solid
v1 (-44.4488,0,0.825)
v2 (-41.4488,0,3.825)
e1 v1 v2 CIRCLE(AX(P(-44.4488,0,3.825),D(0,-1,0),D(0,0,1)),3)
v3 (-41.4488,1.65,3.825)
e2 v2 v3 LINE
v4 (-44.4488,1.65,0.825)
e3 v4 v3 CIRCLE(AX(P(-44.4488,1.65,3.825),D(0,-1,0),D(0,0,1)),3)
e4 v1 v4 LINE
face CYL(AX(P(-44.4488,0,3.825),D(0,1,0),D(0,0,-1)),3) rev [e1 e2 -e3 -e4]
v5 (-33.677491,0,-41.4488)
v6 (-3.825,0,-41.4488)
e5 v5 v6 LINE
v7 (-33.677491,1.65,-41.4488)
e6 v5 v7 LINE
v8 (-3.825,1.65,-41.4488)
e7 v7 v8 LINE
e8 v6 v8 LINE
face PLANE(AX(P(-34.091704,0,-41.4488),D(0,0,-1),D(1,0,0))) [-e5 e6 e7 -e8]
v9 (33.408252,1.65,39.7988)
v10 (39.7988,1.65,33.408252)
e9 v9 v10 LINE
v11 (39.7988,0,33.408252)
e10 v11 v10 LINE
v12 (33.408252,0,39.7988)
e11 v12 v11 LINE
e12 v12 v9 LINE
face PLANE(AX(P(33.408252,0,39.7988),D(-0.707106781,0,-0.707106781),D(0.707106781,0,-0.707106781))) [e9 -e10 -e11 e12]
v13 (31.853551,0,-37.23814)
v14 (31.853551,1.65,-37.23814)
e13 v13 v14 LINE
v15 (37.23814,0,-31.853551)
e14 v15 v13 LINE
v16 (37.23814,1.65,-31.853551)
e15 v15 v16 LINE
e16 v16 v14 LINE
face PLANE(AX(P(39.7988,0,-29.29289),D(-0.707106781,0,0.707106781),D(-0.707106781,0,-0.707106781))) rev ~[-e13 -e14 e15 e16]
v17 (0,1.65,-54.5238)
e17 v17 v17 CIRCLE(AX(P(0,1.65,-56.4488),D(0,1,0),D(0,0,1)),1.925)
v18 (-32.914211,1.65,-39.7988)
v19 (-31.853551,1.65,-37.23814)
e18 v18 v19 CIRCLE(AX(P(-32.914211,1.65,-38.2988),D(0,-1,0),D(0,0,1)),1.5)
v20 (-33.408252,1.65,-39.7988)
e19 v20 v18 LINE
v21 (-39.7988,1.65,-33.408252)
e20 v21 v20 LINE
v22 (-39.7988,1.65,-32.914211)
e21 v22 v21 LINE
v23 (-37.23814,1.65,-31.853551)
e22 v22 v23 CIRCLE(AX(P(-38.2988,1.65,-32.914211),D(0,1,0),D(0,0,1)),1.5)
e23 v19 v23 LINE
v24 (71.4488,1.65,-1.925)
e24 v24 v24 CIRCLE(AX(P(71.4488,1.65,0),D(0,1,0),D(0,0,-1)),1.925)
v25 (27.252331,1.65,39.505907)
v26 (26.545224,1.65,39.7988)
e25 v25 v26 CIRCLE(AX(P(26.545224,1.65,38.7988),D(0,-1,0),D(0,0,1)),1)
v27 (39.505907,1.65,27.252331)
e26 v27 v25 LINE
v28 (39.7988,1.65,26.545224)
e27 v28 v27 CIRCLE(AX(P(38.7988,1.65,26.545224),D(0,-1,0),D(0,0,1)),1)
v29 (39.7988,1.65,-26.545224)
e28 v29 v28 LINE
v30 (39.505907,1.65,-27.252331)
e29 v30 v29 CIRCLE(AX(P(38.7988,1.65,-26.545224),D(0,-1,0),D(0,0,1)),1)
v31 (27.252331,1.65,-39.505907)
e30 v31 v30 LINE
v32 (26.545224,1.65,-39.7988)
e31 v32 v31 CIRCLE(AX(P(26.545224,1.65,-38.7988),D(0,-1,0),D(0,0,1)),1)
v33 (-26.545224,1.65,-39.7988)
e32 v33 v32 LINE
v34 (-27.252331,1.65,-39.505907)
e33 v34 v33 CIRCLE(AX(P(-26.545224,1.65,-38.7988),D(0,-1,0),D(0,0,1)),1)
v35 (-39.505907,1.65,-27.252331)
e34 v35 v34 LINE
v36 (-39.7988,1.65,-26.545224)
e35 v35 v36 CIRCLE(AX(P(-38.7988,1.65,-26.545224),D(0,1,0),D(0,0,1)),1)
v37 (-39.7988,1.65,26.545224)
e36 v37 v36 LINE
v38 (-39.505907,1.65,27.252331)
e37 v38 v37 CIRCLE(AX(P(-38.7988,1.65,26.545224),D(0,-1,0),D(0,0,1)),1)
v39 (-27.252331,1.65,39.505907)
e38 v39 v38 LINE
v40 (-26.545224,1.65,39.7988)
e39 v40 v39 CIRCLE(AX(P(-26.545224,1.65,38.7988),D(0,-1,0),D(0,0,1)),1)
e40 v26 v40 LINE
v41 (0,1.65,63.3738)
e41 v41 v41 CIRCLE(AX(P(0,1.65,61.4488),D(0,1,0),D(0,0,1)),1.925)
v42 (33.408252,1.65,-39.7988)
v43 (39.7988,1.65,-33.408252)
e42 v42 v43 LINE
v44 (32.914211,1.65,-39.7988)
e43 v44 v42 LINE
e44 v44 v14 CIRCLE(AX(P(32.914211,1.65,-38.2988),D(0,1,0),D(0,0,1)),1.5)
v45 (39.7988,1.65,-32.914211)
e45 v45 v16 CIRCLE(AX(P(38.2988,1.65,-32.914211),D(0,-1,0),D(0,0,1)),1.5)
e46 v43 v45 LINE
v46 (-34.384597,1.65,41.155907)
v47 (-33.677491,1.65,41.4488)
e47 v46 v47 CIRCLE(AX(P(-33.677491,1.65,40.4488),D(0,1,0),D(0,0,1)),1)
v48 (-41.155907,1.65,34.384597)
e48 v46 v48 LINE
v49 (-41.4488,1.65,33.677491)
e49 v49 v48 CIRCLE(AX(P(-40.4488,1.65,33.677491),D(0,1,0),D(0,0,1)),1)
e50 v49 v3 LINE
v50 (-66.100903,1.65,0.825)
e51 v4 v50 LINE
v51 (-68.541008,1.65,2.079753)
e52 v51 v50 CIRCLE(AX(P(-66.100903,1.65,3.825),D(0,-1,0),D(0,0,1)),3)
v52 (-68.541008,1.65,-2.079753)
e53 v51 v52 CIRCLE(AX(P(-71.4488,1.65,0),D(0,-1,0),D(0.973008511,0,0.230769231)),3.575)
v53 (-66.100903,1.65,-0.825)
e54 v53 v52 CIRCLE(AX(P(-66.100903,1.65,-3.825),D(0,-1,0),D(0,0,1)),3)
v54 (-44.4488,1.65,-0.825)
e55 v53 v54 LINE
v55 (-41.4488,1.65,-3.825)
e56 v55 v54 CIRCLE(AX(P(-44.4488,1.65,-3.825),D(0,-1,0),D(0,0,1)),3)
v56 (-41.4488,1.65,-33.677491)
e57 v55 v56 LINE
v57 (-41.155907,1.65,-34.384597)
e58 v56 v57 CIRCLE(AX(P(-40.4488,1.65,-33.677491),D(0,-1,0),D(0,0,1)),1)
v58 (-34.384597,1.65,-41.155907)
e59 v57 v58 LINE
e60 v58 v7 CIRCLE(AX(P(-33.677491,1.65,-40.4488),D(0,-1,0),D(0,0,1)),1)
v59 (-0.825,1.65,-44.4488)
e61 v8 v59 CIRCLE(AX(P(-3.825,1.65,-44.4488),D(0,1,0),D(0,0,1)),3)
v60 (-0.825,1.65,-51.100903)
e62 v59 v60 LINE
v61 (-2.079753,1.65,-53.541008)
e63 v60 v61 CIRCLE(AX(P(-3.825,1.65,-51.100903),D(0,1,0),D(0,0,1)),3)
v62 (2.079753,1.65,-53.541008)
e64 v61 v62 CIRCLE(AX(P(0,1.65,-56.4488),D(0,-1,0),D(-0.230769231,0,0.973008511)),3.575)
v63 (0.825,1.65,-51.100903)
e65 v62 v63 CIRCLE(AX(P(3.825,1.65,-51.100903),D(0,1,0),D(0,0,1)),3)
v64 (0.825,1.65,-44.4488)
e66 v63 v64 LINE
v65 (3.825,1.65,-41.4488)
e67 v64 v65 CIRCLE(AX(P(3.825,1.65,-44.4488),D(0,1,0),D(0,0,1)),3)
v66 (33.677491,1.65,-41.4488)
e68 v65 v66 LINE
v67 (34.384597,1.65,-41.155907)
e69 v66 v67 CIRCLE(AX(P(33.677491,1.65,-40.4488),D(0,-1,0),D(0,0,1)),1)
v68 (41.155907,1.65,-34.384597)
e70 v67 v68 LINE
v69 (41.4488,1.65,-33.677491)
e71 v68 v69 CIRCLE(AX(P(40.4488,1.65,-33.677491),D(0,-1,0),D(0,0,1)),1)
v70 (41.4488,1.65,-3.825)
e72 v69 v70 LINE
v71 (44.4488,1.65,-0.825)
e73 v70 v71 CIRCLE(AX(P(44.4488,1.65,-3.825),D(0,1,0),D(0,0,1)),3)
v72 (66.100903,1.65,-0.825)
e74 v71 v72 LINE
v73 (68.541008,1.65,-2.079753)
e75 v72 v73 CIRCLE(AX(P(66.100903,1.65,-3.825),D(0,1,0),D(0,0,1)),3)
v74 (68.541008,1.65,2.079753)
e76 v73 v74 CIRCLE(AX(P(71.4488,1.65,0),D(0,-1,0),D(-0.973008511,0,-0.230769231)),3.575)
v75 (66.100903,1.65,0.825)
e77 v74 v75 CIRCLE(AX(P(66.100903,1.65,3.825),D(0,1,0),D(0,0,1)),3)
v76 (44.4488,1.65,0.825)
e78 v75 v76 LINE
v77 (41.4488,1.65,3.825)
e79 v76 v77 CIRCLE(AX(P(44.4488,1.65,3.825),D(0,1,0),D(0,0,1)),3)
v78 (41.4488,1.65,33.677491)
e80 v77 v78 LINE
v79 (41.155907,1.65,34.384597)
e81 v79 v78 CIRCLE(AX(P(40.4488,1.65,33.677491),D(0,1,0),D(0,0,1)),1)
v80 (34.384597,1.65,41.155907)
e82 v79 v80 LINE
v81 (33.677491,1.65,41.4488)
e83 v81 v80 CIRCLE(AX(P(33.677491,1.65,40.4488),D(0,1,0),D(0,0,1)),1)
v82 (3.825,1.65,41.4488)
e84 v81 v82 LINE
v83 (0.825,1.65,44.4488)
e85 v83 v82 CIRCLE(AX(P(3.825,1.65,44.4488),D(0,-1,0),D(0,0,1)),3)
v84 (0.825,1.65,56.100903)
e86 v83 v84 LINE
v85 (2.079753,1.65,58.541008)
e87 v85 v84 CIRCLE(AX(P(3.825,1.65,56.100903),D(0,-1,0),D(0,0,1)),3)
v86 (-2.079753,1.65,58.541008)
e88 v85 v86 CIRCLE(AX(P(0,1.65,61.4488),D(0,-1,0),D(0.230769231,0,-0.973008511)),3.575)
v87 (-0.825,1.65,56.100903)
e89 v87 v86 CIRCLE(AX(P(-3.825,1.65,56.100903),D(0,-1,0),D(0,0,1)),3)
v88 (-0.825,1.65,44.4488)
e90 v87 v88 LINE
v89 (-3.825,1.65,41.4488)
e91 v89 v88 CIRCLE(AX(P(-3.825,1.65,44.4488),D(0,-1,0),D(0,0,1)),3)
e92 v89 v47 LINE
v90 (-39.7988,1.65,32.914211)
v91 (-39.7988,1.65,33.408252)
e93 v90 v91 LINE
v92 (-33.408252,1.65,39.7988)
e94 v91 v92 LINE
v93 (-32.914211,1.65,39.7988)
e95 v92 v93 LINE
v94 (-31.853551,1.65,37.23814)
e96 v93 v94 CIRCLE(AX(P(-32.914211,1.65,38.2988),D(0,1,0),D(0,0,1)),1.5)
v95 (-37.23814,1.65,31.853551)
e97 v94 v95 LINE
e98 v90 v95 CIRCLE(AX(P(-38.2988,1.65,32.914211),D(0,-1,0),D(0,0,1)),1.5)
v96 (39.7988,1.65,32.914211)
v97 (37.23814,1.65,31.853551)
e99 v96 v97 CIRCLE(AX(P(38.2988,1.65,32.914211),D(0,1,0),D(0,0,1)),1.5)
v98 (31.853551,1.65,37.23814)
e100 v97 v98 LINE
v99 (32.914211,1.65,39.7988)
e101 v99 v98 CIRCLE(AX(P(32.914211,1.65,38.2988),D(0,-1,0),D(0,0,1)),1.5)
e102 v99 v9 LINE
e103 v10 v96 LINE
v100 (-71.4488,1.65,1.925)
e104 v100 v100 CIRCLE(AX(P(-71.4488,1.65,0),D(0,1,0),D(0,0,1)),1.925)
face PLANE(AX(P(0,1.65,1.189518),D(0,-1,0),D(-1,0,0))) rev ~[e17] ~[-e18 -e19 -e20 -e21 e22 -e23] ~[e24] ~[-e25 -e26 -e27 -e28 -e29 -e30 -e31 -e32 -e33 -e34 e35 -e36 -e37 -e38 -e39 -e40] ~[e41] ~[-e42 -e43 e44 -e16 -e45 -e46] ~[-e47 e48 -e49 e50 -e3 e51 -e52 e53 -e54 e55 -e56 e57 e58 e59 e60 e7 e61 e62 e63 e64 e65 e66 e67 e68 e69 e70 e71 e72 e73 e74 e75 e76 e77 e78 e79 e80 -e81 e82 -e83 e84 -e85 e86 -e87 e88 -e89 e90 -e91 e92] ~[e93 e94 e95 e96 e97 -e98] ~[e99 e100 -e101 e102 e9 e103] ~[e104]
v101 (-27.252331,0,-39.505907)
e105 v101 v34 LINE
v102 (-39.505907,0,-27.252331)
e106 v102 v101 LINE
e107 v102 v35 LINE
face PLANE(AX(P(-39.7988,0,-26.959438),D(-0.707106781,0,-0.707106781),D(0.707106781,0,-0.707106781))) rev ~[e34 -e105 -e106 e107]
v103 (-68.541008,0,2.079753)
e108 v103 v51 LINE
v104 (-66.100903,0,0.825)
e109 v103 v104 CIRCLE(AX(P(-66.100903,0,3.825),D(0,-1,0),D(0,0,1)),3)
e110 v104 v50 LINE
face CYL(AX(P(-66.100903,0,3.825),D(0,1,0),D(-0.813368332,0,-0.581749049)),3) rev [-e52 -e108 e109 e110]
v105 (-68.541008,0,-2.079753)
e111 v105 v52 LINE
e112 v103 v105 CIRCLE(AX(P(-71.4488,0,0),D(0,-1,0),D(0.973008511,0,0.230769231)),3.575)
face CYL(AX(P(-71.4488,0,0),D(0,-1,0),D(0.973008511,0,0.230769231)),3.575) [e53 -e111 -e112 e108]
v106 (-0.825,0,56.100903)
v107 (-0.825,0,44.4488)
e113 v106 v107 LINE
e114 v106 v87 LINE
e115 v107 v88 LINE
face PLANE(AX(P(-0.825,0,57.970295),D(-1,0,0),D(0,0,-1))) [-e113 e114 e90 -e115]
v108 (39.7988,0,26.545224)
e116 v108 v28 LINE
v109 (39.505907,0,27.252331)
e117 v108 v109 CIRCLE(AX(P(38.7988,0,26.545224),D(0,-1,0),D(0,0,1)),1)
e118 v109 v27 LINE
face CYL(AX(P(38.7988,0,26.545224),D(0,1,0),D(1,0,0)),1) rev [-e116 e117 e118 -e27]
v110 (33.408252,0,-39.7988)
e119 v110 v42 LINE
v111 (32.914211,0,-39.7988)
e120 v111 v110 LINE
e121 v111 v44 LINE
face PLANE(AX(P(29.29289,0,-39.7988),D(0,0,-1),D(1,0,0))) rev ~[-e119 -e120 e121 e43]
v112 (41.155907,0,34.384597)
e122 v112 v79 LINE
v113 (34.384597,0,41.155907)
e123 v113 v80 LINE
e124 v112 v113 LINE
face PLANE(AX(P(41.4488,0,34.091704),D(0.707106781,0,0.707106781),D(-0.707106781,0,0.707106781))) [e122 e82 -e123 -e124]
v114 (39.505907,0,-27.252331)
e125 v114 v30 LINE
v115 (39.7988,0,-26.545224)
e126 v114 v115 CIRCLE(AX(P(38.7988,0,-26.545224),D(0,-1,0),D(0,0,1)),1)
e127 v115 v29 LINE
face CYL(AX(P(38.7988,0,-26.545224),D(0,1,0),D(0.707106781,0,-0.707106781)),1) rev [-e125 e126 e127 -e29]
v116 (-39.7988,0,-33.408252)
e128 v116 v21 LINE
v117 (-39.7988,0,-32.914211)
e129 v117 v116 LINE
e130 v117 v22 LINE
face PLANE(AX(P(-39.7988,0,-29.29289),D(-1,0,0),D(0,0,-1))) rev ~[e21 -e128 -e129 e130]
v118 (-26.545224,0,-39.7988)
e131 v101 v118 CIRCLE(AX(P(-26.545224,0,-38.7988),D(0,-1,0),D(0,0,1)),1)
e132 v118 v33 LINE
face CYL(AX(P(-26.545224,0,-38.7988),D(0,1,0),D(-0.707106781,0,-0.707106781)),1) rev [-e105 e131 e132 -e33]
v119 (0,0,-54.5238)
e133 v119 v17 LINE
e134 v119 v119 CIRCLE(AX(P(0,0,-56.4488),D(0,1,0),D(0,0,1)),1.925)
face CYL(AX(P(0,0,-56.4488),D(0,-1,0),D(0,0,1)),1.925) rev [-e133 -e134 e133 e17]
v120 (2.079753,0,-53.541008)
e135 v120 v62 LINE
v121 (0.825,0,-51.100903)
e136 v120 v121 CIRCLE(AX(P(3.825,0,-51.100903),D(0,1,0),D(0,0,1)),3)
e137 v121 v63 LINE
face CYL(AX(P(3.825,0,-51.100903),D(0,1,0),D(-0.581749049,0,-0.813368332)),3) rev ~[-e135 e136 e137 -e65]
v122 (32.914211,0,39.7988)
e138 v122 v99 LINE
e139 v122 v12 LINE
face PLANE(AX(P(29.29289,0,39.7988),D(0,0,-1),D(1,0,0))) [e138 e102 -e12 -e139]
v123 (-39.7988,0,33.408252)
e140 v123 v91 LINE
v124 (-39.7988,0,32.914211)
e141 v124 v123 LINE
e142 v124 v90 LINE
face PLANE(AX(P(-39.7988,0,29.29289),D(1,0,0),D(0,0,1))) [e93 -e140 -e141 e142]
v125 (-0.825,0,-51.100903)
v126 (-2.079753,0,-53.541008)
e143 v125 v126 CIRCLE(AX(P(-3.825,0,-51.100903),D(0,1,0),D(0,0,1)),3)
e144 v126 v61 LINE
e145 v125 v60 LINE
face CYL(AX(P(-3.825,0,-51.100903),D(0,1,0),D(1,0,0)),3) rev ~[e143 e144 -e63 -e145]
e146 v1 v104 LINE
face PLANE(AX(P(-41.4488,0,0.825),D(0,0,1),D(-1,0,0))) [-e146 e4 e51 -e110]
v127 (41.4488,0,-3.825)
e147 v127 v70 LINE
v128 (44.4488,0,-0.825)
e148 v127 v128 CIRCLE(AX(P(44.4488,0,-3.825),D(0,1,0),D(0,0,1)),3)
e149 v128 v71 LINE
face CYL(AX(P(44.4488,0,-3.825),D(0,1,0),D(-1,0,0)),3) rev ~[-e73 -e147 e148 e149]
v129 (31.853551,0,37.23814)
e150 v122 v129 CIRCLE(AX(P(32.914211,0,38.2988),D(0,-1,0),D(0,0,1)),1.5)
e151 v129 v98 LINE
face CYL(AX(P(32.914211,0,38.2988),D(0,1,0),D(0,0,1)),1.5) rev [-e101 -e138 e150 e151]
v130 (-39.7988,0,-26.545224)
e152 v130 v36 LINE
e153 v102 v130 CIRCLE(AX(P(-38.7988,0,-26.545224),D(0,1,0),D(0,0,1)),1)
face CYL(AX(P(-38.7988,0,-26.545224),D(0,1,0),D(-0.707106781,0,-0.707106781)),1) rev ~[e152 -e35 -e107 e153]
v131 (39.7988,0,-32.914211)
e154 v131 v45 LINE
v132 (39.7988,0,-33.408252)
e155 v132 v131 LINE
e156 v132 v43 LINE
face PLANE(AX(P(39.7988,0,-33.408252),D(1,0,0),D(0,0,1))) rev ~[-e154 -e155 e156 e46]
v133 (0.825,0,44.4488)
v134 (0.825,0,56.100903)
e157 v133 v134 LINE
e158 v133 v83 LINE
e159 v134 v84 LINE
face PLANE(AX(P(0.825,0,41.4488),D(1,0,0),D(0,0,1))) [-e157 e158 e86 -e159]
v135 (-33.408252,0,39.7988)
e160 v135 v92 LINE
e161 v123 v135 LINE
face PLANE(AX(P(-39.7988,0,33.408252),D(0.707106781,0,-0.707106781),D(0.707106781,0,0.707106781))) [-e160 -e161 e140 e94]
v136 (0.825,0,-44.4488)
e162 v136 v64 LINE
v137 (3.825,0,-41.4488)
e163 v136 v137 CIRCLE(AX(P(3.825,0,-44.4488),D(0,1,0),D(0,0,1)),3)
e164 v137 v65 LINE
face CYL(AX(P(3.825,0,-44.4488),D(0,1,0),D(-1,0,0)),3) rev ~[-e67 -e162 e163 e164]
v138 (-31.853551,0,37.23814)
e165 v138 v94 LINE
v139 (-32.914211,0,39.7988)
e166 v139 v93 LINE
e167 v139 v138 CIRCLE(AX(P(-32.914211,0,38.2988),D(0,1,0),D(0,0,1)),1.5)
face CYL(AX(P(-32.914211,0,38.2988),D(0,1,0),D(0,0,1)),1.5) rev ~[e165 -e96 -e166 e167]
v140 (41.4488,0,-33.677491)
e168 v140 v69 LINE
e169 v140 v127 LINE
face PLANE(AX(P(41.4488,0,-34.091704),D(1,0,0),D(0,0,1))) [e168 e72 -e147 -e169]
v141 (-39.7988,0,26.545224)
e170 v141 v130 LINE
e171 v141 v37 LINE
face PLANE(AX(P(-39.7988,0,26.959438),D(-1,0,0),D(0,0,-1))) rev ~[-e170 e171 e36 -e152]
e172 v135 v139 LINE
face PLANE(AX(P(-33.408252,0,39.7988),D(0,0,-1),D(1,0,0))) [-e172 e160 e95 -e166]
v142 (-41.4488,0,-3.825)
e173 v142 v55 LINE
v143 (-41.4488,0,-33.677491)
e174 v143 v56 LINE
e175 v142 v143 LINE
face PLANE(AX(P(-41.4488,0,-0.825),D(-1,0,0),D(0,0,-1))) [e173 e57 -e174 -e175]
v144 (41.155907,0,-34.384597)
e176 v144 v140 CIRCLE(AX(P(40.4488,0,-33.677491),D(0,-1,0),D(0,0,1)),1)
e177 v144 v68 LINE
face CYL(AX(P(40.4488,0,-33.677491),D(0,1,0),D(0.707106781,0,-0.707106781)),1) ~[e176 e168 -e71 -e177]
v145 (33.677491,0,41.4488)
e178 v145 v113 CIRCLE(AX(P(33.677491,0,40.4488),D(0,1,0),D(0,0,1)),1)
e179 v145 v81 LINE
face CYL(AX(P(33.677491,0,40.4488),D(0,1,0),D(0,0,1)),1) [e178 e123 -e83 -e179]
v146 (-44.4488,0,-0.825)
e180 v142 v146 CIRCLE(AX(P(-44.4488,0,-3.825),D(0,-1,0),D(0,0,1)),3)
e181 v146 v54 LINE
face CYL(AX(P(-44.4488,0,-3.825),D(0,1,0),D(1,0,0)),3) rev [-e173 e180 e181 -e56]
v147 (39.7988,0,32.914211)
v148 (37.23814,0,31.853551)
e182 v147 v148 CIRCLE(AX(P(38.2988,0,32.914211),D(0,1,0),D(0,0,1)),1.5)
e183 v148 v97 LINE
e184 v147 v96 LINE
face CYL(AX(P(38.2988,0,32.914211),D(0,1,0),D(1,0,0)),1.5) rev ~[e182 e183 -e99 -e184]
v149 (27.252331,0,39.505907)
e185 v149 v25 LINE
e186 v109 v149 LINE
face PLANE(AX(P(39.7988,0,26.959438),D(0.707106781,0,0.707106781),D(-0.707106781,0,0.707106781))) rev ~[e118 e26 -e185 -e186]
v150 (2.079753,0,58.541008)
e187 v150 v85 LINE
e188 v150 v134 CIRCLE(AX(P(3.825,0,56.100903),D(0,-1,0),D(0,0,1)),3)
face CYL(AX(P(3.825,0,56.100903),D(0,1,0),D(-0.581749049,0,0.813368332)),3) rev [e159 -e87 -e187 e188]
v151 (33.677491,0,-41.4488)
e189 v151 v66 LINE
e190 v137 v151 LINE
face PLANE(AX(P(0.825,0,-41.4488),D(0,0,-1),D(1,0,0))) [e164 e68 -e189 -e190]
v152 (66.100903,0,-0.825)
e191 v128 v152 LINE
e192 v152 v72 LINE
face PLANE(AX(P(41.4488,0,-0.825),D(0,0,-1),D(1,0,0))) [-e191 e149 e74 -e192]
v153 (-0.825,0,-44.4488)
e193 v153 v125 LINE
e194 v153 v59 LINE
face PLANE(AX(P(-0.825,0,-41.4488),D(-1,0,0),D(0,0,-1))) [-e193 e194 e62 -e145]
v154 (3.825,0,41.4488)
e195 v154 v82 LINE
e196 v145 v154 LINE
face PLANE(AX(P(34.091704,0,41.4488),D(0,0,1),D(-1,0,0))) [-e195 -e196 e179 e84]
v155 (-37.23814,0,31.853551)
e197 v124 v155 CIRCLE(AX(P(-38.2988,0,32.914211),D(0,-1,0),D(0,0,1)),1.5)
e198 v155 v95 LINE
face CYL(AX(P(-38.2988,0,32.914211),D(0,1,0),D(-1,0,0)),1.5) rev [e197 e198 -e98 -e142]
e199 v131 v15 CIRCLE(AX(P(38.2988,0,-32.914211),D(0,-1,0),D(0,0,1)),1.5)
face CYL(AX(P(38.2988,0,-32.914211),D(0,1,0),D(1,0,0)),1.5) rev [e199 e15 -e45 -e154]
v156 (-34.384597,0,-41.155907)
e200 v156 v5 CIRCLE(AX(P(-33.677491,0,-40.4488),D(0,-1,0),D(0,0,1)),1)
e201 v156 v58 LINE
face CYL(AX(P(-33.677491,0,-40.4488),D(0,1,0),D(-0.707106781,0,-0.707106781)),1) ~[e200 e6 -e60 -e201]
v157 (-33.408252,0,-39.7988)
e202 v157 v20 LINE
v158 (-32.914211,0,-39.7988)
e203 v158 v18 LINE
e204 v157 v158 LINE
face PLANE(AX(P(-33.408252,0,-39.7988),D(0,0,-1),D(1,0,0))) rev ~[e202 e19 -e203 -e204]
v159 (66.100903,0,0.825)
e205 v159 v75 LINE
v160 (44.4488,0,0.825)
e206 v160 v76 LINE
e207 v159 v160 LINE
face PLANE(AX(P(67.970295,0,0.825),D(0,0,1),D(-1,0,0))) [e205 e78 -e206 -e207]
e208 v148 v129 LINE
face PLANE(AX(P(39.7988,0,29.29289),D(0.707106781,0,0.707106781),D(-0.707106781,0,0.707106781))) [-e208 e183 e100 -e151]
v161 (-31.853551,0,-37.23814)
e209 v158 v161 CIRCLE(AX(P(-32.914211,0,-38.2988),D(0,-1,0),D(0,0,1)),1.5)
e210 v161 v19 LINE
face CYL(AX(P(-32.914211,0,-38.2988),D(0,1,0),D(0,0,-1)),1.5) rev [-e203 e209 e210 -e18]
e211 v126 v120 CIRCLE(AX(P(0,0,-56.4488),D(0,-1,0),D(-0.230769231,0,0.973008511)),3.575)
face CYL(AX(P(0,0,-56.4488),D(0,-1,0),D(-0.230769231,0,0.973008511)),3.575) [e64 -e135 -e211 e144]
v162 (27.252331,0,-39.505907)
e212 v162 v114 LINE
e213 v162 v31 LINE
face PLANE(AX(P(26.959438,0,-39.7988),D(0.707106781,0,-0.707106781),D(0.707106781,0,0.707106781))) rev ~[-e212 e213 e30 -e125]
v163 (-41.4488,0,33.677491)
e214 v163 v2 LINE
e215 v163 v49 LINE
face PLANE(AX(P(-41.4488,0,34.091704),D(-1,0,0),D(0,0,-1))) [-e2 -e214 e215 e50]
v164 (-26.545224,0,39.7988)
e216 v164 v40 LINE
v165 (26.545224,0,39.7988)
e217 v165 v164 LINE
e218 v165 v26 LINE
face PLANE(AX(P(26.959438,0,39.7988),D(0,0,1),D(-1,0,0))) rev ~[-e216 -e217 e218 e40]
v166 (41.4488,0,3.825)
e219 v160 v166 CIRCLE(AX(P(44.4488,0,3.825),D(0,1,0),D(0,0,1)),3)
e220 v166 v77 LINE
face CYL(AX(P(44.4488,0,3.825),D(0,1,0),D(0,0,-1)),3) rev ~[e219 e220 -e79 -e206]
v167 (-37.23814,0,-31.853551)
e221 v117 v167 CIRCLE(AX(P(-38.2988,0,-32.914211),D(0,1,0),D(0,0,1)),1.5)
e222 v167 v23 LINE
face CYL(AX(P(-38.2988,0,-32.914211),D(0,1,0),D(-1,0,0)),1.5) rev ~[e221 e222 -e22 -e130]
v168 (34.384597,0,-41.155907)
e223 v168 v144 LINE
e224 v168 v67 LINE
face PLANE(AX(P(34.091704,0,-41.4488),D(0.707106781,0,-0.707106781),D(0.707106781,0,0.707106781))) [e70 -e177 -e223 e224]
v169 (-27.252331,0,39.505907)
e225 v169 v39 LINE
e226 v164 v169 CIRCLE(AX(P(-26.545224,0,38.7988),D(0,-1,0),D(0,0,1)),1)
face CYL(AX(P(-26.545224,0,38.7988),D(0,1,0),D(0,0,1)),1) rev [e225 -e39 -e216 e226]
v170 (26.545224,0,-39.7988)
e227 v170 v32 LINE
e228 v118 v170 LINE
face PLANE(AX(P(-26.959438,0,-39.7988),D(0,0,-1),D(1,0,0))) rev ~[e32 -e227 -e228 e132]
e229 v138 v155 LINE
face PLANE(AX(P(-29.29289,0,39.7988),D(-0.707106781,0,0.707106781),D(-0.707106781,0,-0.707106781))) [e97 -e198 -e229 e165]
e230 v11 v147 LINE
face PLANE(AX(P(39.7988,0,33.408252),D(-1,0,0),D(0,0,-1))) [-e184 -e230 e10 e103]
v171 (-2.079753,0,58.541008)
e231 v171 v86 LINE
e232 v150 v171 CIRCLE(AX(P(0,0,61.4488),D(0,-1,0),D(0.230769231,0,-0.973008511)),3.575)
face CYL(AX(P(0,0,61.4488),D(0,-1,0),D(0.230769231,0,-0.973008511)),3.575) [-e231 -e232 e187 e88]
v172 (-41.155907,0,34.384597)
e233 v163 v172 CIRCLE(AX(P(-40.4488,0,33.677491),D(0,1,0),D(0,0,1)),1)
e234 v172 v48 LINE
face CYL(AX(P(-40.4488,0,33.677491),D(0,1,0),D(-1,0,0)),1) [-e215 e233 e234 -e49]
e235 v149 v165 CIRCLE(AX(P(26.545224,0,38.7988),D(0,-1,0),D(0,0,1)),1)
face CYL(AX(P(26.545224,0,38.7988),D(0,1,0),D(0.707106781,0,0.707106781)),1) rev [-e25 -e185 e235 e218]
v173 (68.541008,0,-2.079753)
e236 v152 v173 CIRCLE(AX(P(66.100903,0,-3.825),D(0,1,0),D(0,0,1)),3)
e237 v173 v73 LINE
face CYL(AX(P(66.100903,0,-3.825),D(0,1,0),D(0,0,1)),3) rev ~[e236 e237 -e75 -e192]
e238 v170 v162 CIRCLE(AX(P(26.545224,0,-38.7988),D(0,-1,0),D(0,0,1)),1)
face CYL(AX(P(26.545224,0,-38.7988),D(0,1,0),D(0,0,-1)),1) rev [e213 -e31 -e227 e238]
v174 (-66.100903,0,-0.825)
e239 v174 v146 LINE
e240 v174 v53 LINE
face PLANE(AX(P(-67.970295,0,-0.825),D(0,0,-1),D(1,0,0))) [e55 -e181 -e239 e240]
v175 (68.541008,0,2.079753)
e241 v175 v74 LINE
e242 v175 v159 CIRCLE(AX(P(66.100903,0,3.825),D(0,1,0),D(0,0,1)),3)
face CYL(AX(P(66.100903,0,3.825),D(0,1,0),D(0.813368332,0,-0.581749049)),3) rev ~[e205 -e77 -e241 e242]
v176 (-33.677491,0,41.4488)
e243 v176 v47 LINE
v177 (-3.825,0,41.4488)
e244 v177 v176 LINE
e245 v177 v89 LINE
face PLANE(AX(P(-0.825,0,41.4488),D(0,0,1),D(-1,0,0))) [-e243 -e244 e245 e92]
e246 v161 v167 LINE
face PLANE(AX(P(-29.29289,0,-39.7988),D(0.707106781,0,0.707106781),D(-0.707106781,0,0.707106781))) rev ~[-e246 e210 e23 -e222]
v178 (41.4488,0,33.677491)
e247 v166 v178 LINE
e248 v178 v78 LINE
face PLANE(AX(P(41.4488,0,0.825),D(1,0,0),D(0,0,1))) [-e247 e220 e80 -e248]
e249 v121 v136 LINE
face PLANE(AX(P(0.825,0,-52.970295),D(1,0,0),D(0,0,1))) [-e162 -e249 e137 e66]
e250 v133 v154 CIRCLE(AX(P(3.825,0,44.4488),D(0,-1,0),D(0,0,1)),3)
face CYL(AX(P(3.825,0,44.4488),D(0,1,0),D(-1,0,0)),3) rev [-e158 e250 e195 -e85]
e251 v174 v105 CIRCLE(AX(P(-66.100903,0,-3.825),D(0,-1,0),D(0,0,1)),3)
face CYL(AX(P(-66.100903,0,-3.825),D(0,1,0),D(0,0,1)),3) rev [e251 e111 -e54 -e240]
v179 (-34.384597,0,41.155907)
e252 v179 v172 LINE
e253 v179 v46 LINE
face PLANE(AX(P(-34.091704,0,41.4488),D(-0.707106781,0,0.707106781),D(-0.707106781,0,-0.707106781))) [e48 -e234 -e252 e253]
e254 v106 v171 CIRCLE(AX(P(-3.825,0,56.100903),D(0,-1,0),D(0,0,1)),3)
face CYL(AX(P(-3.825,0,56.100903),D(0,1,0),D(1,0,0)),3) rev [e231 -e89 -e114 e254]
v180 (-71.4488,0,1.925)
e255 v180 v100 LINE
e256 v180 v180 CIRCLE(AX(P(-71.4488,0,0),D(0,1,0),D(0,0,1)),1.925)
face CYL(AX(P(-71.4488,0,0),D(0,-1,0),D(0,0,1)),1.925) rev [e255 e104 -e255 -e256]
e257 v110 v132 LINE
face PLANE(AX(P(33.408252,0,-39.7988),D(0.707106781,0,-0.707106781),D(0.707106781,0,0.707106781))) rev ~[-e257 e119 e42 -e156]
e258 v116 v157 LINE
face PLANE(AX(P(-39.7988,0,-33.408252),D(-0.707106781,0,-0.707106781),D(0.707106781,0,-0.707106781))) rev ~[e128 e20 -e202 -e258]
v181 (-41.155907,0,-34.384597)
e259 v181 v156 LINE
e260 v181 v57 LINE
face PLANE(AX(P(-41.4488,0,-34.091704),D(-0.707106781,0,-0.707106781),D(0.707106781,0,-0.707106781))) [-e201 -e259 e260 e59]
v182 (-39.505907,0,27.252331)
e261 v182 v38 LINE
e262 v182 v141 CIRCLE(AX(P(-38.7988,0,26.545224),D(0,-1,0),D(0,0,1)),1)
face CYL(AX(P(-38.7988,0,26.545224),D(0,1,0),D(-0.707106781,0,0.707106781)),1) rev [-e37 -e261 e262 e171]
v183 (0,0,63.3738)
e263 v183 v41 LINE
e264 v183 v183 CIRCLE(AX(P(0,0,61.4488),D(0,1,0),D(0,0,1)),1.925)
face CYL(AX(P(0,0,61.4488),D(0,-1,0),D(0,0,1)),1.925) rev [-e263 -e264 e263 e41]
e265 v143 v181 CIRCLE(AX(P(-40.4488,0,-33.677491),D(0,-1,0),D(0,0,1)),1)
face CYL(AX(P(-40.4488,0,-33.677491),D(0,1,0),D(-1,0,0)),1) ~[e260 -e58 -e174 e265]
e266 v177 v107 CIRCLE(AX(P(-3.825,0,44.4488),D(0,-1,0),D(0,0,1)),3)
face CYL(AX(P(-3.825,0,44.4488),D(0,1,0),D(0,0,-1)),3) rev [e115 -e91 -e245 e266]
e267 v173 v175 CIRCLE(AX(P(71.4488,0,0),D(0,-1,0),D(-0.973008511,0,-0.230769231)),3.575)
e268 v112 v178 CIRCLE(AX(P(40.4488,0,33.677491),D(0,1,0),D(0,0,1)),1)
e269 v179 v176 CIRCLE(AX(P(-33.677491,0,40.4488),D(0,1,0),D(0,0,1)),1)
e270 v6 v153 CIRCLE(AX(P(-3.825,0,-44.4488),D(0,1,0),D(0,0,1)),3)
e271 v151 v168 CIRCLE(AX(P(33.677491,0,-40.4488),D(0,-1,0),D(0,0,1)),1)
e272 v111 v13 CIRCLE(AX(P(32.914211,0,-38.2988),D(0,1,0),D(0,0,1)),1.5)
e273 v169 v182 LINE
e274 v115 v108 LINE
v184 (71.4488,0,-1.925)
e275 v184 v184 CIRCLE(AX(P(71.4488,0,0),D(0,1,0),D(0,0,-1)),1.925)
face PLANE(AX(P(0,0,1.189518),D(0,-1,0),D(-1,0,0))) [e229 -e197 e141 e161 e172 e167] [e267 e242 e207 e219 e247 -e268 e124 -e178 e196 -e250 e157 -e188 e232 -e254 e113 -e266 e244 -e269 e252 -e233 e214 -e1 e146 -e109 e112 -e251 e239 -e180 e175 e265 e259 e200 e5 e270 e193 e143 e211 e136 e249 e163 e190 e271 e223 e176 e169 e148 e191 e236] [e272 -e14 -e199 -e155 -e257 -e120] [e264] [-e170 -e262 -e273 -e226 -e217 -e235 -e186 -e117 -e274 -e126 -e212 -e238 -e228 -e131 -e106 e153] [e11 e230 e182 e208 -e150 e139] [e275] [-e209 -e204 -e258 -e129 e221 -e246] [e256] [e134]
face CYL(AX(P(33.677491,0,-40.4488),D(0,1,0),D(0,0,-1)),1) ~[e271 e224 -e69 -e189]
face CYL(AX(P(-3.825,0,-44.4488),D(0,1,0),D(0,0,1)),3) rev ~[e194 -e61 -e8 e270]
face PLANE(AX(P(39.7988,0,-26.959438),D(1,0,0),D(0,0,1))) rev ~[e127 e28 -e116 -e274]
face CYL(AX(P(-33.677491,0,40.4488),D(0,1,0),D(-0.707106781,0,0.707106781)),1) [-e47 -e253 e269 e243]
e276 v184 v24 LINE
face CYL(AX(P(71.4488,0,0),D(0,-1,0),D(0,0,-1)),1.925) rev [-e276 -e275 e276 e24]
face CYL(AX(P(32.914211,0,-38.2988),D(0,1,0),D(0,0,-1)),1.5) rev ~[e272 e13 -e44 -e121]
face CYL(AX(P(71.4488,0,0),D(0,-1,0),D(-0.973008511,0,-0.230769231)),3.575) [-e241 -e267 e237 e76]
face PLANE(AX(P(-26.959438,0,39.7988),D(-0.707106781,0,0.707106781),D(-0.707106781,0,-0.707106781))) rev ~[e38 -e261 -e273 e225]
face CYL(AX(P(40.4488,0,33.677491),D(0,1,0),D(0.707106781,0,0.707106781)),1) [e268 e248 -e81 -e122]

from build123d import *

# Parameters (mm, degrees)
SKETCH1_R           = 1.925
BOSS_EXTRUDE1_DEPTH = 1.65
FILLET4_R           = 3
FILLET3_R           = 1.5
FILLET5_R           = 1


with BuildPart() as part:
    # Sketch1 → Boss-Extrude1 (new body)
    with BuildSketch(Plane(origin=(0, 0, 0), x_dir=(1, 0, 0), z_dir=(0, 1, 0))):
        with BuildLine():
            Line((-41.448800006, 34.091704203), (-34.091704203, 41.448800006))
            Line((-34.091704203, 41.448800006), (-0.825, 41.448800006))
            Line((-0.825, 41.448800006), (-0.825, 52.97029458))
            ThreePointArc((-0.825, 52.97029458), (0, 60.023800006), (0.825, 52.97029458))
            Line((0.825, 52.97029458), (0.825, 41.448800006))
            Line((0.825, 41.448800006), (34.091704203, 41.448800006))
            Line((34.091704203, 41.448800006), (41.448800006, 34.091704203))
            Line((41.448800006, 34.091704203), (41.448800006, 0.825))
            Line((41.448800006, 0.825), (67.97029458, 0.825))
            ThreePointArc((67.97029458, 0.825), (75.023800006, 0), (67.97029458, -0.825))
            Line((67.97029458, -0.825), (41.448800006, -0.825))
            Line((41.448800006, -0.825), (41.448800006, -34.091704203))
            Line((41.448800006, -34.091704203), (34.091704203, -41.448800006))
            Line((34.091704203, -41.448800006), (0.825, -41.448800006))
            Line((0.825, -41.448800006), (0.825, -57.97029458))
            ThreePointArc((0.825, -57.97029458), (0, -65.023800006), (-0.825, -57.97029458))
            Line((-0.825, -57.97029458), (-0.825, -41.448800006))
            Line((-0.825, -41.448800006), (-34.091704203, -41.448800006))
            Line((-34.091704203, -41.448800006), (-41.448800006, -34.091704203))
            Line((-41.448800006, -34.091704203), (-41.448800006, -0.825))
            Line((-41.448800006, -0.825), (-67.97029458, -0.825))
            ThreePointArc((-67.97029458, -0.825), (-75.023800006, 0), (-67.97029458, 0.825))
            Line((-67.97029458, 0.825), (-41.448800006, 0.825))
            Line((-41.448800006, 0.825), (-41.448800006, 34.091704203))
        make_face()
        with Locations(Location((0, 56.448800006, 0), (0, 0, 270))):
            Circle(SKETCH1_R, mode=Mode.SUBTRACT)
        with Locations(Location((71.448800006, 0, 0), (0, 0, 90))):
            Circle(SKETCH1_R, mode=Mode.SUBTRACT)
        with Locations(Location((0, -61.448800006, 0), (0, 0, 270))):
            Circle(SKETCH1_R, mode=Mode.SUBTRACT)
        with Locations(Location((-71.448800006, 0, 0), (0, 0, 270))):
            Circle(SKETCH1_R, mode=Mode.SUBTRACT)
        Polygon((-39.798800006, 33.408251825), (-33.408251825, 39.798800006), (-29.292890359, 39.798800006), (-39.798800006, 29.292890359), align=None, mode=Mode.SUBTRACT)
        Polygon((-33.408251825, -39.798800006), (-29.292890359, -39.798800006), (-39.798800006, -29.292890359), (-39.798800006, -33.408251825), align=None, mode=Mode.SUBTRACT)
        Polygon((39.798800006, -33.408251825), (39.798800006, -29.292890359), (29.292890359, -39.798800006), (33.408251825, -39.798800006), align=None, mode=Mode.SUBTRACT)
        Polygon((33.408251825, 39.798800006), (39.798800006, 33.408251825), (39.798800006, 29.292890359), (29.292890359, 39.798800006), align=None, mode=Mode.SUBTRACT)
        Polygon((-39.798800006, 26.959437981), (-26.959437981, 39.798800006), (26.959437981, 39.798800006), (39.798800006, 26.959437981), (39.798800006, -26.959437981), (26.959437981, -39.798800006), (-26.959437981, -39.798800006), (-39.798800006, -26.959437981), align=None, mode=Mode.SUBTRACT)
    extrude(amount=BOSS_EXTRUDE1_DEPTH)

    # Fillet4
    fillet4_edges = [part.edges().sort_by_distance(p)[0] for p in [
        (-0.825, 0.825, -41.448800006),
        (-0.825, 0.825, -52.97029458),
        (0.825, 0.825, -52.97029458),
        (0.825, 0.825, -41.448800006),
        (41.448800006, 0.825, -0.825),
        (67.97029458, 0.825, -0.825),
        (67.97029458, 0.825, 0.825),
        (41.448800006, 0.825, 0.825),
        (0.825, 0.825, 41.448800006),
        (0.825, 0.825, 57.97029458),
        (-0.825, 0.825, 57.97029458),
        (-0.825, 0.825, 41.448800006),
        (-41.448800006, 0.825, 0.825),
        (-67.97029458, 0.825, 0.825),
        (-67.97029458, 0.825, -0.825),
        (-41.448800006, 0.825, -0.825),
    ]]
    fillet(fillet4_edges, radius=FILLET4_R)

    # Fillet3
    fillet3_edges = [part.edges().sort_by_distance(p)[0] for p in [
        (-29.292890359, 0.825, 39.798800006),
        (-39.798800006, 0.825, 29.292890359),
        (-39.798800006, 0.825, -29.292890359),
        (-29.292890359, 0.825, -39.798800006),
        (29.292890359, 0.825, -39.798800006),
        (39.798800006, 0.825, -29.292890359),
        (39.798800006, 0.825, 29.292890359),
        (29.292890359, 0.825, 39.798800006),
    ]]
    fillet(fillet3_edges, radius=FILLET3_R)

    # Fillet5
    fillet5_edges = [part.edges().sort_by_distance(p)[0] for p in [
        (-39.798800006, 0.825, -26.959437981),
        (-39.798800006, 0.825, 26.959437981),
        (-26.959437981, 0.825, 39.798800006),
        (26.959437981, 0.825, 39.798800006),
        (39.798800006, 0.825, 26.959437981),
        (39.798800006, 0.825, -26.959437981),
        (26.959437981, 0.825, -39.798800006),
        (-26.959437981, 0.825, -39.798800006),
        (-41.448800006, 0.825, -34.091704203),
        (-34.091704203, 0.825, -41.448800006),
        (34.091704203, 0.825, -41.448800006),
        (41.448800006, 0.825, -34.091704203),
        (41.448800006, 0.825, 34.091704203),
        (34.091704203, 0.825, 41.448800006),
        (-34.091704203, 0.825, 41.448800006),
        (-41.448800006, 0.825, 34.091704203),
    ]]
    fillet(fillet5_edges, radius=FILLET5_R)


solid = part.part
